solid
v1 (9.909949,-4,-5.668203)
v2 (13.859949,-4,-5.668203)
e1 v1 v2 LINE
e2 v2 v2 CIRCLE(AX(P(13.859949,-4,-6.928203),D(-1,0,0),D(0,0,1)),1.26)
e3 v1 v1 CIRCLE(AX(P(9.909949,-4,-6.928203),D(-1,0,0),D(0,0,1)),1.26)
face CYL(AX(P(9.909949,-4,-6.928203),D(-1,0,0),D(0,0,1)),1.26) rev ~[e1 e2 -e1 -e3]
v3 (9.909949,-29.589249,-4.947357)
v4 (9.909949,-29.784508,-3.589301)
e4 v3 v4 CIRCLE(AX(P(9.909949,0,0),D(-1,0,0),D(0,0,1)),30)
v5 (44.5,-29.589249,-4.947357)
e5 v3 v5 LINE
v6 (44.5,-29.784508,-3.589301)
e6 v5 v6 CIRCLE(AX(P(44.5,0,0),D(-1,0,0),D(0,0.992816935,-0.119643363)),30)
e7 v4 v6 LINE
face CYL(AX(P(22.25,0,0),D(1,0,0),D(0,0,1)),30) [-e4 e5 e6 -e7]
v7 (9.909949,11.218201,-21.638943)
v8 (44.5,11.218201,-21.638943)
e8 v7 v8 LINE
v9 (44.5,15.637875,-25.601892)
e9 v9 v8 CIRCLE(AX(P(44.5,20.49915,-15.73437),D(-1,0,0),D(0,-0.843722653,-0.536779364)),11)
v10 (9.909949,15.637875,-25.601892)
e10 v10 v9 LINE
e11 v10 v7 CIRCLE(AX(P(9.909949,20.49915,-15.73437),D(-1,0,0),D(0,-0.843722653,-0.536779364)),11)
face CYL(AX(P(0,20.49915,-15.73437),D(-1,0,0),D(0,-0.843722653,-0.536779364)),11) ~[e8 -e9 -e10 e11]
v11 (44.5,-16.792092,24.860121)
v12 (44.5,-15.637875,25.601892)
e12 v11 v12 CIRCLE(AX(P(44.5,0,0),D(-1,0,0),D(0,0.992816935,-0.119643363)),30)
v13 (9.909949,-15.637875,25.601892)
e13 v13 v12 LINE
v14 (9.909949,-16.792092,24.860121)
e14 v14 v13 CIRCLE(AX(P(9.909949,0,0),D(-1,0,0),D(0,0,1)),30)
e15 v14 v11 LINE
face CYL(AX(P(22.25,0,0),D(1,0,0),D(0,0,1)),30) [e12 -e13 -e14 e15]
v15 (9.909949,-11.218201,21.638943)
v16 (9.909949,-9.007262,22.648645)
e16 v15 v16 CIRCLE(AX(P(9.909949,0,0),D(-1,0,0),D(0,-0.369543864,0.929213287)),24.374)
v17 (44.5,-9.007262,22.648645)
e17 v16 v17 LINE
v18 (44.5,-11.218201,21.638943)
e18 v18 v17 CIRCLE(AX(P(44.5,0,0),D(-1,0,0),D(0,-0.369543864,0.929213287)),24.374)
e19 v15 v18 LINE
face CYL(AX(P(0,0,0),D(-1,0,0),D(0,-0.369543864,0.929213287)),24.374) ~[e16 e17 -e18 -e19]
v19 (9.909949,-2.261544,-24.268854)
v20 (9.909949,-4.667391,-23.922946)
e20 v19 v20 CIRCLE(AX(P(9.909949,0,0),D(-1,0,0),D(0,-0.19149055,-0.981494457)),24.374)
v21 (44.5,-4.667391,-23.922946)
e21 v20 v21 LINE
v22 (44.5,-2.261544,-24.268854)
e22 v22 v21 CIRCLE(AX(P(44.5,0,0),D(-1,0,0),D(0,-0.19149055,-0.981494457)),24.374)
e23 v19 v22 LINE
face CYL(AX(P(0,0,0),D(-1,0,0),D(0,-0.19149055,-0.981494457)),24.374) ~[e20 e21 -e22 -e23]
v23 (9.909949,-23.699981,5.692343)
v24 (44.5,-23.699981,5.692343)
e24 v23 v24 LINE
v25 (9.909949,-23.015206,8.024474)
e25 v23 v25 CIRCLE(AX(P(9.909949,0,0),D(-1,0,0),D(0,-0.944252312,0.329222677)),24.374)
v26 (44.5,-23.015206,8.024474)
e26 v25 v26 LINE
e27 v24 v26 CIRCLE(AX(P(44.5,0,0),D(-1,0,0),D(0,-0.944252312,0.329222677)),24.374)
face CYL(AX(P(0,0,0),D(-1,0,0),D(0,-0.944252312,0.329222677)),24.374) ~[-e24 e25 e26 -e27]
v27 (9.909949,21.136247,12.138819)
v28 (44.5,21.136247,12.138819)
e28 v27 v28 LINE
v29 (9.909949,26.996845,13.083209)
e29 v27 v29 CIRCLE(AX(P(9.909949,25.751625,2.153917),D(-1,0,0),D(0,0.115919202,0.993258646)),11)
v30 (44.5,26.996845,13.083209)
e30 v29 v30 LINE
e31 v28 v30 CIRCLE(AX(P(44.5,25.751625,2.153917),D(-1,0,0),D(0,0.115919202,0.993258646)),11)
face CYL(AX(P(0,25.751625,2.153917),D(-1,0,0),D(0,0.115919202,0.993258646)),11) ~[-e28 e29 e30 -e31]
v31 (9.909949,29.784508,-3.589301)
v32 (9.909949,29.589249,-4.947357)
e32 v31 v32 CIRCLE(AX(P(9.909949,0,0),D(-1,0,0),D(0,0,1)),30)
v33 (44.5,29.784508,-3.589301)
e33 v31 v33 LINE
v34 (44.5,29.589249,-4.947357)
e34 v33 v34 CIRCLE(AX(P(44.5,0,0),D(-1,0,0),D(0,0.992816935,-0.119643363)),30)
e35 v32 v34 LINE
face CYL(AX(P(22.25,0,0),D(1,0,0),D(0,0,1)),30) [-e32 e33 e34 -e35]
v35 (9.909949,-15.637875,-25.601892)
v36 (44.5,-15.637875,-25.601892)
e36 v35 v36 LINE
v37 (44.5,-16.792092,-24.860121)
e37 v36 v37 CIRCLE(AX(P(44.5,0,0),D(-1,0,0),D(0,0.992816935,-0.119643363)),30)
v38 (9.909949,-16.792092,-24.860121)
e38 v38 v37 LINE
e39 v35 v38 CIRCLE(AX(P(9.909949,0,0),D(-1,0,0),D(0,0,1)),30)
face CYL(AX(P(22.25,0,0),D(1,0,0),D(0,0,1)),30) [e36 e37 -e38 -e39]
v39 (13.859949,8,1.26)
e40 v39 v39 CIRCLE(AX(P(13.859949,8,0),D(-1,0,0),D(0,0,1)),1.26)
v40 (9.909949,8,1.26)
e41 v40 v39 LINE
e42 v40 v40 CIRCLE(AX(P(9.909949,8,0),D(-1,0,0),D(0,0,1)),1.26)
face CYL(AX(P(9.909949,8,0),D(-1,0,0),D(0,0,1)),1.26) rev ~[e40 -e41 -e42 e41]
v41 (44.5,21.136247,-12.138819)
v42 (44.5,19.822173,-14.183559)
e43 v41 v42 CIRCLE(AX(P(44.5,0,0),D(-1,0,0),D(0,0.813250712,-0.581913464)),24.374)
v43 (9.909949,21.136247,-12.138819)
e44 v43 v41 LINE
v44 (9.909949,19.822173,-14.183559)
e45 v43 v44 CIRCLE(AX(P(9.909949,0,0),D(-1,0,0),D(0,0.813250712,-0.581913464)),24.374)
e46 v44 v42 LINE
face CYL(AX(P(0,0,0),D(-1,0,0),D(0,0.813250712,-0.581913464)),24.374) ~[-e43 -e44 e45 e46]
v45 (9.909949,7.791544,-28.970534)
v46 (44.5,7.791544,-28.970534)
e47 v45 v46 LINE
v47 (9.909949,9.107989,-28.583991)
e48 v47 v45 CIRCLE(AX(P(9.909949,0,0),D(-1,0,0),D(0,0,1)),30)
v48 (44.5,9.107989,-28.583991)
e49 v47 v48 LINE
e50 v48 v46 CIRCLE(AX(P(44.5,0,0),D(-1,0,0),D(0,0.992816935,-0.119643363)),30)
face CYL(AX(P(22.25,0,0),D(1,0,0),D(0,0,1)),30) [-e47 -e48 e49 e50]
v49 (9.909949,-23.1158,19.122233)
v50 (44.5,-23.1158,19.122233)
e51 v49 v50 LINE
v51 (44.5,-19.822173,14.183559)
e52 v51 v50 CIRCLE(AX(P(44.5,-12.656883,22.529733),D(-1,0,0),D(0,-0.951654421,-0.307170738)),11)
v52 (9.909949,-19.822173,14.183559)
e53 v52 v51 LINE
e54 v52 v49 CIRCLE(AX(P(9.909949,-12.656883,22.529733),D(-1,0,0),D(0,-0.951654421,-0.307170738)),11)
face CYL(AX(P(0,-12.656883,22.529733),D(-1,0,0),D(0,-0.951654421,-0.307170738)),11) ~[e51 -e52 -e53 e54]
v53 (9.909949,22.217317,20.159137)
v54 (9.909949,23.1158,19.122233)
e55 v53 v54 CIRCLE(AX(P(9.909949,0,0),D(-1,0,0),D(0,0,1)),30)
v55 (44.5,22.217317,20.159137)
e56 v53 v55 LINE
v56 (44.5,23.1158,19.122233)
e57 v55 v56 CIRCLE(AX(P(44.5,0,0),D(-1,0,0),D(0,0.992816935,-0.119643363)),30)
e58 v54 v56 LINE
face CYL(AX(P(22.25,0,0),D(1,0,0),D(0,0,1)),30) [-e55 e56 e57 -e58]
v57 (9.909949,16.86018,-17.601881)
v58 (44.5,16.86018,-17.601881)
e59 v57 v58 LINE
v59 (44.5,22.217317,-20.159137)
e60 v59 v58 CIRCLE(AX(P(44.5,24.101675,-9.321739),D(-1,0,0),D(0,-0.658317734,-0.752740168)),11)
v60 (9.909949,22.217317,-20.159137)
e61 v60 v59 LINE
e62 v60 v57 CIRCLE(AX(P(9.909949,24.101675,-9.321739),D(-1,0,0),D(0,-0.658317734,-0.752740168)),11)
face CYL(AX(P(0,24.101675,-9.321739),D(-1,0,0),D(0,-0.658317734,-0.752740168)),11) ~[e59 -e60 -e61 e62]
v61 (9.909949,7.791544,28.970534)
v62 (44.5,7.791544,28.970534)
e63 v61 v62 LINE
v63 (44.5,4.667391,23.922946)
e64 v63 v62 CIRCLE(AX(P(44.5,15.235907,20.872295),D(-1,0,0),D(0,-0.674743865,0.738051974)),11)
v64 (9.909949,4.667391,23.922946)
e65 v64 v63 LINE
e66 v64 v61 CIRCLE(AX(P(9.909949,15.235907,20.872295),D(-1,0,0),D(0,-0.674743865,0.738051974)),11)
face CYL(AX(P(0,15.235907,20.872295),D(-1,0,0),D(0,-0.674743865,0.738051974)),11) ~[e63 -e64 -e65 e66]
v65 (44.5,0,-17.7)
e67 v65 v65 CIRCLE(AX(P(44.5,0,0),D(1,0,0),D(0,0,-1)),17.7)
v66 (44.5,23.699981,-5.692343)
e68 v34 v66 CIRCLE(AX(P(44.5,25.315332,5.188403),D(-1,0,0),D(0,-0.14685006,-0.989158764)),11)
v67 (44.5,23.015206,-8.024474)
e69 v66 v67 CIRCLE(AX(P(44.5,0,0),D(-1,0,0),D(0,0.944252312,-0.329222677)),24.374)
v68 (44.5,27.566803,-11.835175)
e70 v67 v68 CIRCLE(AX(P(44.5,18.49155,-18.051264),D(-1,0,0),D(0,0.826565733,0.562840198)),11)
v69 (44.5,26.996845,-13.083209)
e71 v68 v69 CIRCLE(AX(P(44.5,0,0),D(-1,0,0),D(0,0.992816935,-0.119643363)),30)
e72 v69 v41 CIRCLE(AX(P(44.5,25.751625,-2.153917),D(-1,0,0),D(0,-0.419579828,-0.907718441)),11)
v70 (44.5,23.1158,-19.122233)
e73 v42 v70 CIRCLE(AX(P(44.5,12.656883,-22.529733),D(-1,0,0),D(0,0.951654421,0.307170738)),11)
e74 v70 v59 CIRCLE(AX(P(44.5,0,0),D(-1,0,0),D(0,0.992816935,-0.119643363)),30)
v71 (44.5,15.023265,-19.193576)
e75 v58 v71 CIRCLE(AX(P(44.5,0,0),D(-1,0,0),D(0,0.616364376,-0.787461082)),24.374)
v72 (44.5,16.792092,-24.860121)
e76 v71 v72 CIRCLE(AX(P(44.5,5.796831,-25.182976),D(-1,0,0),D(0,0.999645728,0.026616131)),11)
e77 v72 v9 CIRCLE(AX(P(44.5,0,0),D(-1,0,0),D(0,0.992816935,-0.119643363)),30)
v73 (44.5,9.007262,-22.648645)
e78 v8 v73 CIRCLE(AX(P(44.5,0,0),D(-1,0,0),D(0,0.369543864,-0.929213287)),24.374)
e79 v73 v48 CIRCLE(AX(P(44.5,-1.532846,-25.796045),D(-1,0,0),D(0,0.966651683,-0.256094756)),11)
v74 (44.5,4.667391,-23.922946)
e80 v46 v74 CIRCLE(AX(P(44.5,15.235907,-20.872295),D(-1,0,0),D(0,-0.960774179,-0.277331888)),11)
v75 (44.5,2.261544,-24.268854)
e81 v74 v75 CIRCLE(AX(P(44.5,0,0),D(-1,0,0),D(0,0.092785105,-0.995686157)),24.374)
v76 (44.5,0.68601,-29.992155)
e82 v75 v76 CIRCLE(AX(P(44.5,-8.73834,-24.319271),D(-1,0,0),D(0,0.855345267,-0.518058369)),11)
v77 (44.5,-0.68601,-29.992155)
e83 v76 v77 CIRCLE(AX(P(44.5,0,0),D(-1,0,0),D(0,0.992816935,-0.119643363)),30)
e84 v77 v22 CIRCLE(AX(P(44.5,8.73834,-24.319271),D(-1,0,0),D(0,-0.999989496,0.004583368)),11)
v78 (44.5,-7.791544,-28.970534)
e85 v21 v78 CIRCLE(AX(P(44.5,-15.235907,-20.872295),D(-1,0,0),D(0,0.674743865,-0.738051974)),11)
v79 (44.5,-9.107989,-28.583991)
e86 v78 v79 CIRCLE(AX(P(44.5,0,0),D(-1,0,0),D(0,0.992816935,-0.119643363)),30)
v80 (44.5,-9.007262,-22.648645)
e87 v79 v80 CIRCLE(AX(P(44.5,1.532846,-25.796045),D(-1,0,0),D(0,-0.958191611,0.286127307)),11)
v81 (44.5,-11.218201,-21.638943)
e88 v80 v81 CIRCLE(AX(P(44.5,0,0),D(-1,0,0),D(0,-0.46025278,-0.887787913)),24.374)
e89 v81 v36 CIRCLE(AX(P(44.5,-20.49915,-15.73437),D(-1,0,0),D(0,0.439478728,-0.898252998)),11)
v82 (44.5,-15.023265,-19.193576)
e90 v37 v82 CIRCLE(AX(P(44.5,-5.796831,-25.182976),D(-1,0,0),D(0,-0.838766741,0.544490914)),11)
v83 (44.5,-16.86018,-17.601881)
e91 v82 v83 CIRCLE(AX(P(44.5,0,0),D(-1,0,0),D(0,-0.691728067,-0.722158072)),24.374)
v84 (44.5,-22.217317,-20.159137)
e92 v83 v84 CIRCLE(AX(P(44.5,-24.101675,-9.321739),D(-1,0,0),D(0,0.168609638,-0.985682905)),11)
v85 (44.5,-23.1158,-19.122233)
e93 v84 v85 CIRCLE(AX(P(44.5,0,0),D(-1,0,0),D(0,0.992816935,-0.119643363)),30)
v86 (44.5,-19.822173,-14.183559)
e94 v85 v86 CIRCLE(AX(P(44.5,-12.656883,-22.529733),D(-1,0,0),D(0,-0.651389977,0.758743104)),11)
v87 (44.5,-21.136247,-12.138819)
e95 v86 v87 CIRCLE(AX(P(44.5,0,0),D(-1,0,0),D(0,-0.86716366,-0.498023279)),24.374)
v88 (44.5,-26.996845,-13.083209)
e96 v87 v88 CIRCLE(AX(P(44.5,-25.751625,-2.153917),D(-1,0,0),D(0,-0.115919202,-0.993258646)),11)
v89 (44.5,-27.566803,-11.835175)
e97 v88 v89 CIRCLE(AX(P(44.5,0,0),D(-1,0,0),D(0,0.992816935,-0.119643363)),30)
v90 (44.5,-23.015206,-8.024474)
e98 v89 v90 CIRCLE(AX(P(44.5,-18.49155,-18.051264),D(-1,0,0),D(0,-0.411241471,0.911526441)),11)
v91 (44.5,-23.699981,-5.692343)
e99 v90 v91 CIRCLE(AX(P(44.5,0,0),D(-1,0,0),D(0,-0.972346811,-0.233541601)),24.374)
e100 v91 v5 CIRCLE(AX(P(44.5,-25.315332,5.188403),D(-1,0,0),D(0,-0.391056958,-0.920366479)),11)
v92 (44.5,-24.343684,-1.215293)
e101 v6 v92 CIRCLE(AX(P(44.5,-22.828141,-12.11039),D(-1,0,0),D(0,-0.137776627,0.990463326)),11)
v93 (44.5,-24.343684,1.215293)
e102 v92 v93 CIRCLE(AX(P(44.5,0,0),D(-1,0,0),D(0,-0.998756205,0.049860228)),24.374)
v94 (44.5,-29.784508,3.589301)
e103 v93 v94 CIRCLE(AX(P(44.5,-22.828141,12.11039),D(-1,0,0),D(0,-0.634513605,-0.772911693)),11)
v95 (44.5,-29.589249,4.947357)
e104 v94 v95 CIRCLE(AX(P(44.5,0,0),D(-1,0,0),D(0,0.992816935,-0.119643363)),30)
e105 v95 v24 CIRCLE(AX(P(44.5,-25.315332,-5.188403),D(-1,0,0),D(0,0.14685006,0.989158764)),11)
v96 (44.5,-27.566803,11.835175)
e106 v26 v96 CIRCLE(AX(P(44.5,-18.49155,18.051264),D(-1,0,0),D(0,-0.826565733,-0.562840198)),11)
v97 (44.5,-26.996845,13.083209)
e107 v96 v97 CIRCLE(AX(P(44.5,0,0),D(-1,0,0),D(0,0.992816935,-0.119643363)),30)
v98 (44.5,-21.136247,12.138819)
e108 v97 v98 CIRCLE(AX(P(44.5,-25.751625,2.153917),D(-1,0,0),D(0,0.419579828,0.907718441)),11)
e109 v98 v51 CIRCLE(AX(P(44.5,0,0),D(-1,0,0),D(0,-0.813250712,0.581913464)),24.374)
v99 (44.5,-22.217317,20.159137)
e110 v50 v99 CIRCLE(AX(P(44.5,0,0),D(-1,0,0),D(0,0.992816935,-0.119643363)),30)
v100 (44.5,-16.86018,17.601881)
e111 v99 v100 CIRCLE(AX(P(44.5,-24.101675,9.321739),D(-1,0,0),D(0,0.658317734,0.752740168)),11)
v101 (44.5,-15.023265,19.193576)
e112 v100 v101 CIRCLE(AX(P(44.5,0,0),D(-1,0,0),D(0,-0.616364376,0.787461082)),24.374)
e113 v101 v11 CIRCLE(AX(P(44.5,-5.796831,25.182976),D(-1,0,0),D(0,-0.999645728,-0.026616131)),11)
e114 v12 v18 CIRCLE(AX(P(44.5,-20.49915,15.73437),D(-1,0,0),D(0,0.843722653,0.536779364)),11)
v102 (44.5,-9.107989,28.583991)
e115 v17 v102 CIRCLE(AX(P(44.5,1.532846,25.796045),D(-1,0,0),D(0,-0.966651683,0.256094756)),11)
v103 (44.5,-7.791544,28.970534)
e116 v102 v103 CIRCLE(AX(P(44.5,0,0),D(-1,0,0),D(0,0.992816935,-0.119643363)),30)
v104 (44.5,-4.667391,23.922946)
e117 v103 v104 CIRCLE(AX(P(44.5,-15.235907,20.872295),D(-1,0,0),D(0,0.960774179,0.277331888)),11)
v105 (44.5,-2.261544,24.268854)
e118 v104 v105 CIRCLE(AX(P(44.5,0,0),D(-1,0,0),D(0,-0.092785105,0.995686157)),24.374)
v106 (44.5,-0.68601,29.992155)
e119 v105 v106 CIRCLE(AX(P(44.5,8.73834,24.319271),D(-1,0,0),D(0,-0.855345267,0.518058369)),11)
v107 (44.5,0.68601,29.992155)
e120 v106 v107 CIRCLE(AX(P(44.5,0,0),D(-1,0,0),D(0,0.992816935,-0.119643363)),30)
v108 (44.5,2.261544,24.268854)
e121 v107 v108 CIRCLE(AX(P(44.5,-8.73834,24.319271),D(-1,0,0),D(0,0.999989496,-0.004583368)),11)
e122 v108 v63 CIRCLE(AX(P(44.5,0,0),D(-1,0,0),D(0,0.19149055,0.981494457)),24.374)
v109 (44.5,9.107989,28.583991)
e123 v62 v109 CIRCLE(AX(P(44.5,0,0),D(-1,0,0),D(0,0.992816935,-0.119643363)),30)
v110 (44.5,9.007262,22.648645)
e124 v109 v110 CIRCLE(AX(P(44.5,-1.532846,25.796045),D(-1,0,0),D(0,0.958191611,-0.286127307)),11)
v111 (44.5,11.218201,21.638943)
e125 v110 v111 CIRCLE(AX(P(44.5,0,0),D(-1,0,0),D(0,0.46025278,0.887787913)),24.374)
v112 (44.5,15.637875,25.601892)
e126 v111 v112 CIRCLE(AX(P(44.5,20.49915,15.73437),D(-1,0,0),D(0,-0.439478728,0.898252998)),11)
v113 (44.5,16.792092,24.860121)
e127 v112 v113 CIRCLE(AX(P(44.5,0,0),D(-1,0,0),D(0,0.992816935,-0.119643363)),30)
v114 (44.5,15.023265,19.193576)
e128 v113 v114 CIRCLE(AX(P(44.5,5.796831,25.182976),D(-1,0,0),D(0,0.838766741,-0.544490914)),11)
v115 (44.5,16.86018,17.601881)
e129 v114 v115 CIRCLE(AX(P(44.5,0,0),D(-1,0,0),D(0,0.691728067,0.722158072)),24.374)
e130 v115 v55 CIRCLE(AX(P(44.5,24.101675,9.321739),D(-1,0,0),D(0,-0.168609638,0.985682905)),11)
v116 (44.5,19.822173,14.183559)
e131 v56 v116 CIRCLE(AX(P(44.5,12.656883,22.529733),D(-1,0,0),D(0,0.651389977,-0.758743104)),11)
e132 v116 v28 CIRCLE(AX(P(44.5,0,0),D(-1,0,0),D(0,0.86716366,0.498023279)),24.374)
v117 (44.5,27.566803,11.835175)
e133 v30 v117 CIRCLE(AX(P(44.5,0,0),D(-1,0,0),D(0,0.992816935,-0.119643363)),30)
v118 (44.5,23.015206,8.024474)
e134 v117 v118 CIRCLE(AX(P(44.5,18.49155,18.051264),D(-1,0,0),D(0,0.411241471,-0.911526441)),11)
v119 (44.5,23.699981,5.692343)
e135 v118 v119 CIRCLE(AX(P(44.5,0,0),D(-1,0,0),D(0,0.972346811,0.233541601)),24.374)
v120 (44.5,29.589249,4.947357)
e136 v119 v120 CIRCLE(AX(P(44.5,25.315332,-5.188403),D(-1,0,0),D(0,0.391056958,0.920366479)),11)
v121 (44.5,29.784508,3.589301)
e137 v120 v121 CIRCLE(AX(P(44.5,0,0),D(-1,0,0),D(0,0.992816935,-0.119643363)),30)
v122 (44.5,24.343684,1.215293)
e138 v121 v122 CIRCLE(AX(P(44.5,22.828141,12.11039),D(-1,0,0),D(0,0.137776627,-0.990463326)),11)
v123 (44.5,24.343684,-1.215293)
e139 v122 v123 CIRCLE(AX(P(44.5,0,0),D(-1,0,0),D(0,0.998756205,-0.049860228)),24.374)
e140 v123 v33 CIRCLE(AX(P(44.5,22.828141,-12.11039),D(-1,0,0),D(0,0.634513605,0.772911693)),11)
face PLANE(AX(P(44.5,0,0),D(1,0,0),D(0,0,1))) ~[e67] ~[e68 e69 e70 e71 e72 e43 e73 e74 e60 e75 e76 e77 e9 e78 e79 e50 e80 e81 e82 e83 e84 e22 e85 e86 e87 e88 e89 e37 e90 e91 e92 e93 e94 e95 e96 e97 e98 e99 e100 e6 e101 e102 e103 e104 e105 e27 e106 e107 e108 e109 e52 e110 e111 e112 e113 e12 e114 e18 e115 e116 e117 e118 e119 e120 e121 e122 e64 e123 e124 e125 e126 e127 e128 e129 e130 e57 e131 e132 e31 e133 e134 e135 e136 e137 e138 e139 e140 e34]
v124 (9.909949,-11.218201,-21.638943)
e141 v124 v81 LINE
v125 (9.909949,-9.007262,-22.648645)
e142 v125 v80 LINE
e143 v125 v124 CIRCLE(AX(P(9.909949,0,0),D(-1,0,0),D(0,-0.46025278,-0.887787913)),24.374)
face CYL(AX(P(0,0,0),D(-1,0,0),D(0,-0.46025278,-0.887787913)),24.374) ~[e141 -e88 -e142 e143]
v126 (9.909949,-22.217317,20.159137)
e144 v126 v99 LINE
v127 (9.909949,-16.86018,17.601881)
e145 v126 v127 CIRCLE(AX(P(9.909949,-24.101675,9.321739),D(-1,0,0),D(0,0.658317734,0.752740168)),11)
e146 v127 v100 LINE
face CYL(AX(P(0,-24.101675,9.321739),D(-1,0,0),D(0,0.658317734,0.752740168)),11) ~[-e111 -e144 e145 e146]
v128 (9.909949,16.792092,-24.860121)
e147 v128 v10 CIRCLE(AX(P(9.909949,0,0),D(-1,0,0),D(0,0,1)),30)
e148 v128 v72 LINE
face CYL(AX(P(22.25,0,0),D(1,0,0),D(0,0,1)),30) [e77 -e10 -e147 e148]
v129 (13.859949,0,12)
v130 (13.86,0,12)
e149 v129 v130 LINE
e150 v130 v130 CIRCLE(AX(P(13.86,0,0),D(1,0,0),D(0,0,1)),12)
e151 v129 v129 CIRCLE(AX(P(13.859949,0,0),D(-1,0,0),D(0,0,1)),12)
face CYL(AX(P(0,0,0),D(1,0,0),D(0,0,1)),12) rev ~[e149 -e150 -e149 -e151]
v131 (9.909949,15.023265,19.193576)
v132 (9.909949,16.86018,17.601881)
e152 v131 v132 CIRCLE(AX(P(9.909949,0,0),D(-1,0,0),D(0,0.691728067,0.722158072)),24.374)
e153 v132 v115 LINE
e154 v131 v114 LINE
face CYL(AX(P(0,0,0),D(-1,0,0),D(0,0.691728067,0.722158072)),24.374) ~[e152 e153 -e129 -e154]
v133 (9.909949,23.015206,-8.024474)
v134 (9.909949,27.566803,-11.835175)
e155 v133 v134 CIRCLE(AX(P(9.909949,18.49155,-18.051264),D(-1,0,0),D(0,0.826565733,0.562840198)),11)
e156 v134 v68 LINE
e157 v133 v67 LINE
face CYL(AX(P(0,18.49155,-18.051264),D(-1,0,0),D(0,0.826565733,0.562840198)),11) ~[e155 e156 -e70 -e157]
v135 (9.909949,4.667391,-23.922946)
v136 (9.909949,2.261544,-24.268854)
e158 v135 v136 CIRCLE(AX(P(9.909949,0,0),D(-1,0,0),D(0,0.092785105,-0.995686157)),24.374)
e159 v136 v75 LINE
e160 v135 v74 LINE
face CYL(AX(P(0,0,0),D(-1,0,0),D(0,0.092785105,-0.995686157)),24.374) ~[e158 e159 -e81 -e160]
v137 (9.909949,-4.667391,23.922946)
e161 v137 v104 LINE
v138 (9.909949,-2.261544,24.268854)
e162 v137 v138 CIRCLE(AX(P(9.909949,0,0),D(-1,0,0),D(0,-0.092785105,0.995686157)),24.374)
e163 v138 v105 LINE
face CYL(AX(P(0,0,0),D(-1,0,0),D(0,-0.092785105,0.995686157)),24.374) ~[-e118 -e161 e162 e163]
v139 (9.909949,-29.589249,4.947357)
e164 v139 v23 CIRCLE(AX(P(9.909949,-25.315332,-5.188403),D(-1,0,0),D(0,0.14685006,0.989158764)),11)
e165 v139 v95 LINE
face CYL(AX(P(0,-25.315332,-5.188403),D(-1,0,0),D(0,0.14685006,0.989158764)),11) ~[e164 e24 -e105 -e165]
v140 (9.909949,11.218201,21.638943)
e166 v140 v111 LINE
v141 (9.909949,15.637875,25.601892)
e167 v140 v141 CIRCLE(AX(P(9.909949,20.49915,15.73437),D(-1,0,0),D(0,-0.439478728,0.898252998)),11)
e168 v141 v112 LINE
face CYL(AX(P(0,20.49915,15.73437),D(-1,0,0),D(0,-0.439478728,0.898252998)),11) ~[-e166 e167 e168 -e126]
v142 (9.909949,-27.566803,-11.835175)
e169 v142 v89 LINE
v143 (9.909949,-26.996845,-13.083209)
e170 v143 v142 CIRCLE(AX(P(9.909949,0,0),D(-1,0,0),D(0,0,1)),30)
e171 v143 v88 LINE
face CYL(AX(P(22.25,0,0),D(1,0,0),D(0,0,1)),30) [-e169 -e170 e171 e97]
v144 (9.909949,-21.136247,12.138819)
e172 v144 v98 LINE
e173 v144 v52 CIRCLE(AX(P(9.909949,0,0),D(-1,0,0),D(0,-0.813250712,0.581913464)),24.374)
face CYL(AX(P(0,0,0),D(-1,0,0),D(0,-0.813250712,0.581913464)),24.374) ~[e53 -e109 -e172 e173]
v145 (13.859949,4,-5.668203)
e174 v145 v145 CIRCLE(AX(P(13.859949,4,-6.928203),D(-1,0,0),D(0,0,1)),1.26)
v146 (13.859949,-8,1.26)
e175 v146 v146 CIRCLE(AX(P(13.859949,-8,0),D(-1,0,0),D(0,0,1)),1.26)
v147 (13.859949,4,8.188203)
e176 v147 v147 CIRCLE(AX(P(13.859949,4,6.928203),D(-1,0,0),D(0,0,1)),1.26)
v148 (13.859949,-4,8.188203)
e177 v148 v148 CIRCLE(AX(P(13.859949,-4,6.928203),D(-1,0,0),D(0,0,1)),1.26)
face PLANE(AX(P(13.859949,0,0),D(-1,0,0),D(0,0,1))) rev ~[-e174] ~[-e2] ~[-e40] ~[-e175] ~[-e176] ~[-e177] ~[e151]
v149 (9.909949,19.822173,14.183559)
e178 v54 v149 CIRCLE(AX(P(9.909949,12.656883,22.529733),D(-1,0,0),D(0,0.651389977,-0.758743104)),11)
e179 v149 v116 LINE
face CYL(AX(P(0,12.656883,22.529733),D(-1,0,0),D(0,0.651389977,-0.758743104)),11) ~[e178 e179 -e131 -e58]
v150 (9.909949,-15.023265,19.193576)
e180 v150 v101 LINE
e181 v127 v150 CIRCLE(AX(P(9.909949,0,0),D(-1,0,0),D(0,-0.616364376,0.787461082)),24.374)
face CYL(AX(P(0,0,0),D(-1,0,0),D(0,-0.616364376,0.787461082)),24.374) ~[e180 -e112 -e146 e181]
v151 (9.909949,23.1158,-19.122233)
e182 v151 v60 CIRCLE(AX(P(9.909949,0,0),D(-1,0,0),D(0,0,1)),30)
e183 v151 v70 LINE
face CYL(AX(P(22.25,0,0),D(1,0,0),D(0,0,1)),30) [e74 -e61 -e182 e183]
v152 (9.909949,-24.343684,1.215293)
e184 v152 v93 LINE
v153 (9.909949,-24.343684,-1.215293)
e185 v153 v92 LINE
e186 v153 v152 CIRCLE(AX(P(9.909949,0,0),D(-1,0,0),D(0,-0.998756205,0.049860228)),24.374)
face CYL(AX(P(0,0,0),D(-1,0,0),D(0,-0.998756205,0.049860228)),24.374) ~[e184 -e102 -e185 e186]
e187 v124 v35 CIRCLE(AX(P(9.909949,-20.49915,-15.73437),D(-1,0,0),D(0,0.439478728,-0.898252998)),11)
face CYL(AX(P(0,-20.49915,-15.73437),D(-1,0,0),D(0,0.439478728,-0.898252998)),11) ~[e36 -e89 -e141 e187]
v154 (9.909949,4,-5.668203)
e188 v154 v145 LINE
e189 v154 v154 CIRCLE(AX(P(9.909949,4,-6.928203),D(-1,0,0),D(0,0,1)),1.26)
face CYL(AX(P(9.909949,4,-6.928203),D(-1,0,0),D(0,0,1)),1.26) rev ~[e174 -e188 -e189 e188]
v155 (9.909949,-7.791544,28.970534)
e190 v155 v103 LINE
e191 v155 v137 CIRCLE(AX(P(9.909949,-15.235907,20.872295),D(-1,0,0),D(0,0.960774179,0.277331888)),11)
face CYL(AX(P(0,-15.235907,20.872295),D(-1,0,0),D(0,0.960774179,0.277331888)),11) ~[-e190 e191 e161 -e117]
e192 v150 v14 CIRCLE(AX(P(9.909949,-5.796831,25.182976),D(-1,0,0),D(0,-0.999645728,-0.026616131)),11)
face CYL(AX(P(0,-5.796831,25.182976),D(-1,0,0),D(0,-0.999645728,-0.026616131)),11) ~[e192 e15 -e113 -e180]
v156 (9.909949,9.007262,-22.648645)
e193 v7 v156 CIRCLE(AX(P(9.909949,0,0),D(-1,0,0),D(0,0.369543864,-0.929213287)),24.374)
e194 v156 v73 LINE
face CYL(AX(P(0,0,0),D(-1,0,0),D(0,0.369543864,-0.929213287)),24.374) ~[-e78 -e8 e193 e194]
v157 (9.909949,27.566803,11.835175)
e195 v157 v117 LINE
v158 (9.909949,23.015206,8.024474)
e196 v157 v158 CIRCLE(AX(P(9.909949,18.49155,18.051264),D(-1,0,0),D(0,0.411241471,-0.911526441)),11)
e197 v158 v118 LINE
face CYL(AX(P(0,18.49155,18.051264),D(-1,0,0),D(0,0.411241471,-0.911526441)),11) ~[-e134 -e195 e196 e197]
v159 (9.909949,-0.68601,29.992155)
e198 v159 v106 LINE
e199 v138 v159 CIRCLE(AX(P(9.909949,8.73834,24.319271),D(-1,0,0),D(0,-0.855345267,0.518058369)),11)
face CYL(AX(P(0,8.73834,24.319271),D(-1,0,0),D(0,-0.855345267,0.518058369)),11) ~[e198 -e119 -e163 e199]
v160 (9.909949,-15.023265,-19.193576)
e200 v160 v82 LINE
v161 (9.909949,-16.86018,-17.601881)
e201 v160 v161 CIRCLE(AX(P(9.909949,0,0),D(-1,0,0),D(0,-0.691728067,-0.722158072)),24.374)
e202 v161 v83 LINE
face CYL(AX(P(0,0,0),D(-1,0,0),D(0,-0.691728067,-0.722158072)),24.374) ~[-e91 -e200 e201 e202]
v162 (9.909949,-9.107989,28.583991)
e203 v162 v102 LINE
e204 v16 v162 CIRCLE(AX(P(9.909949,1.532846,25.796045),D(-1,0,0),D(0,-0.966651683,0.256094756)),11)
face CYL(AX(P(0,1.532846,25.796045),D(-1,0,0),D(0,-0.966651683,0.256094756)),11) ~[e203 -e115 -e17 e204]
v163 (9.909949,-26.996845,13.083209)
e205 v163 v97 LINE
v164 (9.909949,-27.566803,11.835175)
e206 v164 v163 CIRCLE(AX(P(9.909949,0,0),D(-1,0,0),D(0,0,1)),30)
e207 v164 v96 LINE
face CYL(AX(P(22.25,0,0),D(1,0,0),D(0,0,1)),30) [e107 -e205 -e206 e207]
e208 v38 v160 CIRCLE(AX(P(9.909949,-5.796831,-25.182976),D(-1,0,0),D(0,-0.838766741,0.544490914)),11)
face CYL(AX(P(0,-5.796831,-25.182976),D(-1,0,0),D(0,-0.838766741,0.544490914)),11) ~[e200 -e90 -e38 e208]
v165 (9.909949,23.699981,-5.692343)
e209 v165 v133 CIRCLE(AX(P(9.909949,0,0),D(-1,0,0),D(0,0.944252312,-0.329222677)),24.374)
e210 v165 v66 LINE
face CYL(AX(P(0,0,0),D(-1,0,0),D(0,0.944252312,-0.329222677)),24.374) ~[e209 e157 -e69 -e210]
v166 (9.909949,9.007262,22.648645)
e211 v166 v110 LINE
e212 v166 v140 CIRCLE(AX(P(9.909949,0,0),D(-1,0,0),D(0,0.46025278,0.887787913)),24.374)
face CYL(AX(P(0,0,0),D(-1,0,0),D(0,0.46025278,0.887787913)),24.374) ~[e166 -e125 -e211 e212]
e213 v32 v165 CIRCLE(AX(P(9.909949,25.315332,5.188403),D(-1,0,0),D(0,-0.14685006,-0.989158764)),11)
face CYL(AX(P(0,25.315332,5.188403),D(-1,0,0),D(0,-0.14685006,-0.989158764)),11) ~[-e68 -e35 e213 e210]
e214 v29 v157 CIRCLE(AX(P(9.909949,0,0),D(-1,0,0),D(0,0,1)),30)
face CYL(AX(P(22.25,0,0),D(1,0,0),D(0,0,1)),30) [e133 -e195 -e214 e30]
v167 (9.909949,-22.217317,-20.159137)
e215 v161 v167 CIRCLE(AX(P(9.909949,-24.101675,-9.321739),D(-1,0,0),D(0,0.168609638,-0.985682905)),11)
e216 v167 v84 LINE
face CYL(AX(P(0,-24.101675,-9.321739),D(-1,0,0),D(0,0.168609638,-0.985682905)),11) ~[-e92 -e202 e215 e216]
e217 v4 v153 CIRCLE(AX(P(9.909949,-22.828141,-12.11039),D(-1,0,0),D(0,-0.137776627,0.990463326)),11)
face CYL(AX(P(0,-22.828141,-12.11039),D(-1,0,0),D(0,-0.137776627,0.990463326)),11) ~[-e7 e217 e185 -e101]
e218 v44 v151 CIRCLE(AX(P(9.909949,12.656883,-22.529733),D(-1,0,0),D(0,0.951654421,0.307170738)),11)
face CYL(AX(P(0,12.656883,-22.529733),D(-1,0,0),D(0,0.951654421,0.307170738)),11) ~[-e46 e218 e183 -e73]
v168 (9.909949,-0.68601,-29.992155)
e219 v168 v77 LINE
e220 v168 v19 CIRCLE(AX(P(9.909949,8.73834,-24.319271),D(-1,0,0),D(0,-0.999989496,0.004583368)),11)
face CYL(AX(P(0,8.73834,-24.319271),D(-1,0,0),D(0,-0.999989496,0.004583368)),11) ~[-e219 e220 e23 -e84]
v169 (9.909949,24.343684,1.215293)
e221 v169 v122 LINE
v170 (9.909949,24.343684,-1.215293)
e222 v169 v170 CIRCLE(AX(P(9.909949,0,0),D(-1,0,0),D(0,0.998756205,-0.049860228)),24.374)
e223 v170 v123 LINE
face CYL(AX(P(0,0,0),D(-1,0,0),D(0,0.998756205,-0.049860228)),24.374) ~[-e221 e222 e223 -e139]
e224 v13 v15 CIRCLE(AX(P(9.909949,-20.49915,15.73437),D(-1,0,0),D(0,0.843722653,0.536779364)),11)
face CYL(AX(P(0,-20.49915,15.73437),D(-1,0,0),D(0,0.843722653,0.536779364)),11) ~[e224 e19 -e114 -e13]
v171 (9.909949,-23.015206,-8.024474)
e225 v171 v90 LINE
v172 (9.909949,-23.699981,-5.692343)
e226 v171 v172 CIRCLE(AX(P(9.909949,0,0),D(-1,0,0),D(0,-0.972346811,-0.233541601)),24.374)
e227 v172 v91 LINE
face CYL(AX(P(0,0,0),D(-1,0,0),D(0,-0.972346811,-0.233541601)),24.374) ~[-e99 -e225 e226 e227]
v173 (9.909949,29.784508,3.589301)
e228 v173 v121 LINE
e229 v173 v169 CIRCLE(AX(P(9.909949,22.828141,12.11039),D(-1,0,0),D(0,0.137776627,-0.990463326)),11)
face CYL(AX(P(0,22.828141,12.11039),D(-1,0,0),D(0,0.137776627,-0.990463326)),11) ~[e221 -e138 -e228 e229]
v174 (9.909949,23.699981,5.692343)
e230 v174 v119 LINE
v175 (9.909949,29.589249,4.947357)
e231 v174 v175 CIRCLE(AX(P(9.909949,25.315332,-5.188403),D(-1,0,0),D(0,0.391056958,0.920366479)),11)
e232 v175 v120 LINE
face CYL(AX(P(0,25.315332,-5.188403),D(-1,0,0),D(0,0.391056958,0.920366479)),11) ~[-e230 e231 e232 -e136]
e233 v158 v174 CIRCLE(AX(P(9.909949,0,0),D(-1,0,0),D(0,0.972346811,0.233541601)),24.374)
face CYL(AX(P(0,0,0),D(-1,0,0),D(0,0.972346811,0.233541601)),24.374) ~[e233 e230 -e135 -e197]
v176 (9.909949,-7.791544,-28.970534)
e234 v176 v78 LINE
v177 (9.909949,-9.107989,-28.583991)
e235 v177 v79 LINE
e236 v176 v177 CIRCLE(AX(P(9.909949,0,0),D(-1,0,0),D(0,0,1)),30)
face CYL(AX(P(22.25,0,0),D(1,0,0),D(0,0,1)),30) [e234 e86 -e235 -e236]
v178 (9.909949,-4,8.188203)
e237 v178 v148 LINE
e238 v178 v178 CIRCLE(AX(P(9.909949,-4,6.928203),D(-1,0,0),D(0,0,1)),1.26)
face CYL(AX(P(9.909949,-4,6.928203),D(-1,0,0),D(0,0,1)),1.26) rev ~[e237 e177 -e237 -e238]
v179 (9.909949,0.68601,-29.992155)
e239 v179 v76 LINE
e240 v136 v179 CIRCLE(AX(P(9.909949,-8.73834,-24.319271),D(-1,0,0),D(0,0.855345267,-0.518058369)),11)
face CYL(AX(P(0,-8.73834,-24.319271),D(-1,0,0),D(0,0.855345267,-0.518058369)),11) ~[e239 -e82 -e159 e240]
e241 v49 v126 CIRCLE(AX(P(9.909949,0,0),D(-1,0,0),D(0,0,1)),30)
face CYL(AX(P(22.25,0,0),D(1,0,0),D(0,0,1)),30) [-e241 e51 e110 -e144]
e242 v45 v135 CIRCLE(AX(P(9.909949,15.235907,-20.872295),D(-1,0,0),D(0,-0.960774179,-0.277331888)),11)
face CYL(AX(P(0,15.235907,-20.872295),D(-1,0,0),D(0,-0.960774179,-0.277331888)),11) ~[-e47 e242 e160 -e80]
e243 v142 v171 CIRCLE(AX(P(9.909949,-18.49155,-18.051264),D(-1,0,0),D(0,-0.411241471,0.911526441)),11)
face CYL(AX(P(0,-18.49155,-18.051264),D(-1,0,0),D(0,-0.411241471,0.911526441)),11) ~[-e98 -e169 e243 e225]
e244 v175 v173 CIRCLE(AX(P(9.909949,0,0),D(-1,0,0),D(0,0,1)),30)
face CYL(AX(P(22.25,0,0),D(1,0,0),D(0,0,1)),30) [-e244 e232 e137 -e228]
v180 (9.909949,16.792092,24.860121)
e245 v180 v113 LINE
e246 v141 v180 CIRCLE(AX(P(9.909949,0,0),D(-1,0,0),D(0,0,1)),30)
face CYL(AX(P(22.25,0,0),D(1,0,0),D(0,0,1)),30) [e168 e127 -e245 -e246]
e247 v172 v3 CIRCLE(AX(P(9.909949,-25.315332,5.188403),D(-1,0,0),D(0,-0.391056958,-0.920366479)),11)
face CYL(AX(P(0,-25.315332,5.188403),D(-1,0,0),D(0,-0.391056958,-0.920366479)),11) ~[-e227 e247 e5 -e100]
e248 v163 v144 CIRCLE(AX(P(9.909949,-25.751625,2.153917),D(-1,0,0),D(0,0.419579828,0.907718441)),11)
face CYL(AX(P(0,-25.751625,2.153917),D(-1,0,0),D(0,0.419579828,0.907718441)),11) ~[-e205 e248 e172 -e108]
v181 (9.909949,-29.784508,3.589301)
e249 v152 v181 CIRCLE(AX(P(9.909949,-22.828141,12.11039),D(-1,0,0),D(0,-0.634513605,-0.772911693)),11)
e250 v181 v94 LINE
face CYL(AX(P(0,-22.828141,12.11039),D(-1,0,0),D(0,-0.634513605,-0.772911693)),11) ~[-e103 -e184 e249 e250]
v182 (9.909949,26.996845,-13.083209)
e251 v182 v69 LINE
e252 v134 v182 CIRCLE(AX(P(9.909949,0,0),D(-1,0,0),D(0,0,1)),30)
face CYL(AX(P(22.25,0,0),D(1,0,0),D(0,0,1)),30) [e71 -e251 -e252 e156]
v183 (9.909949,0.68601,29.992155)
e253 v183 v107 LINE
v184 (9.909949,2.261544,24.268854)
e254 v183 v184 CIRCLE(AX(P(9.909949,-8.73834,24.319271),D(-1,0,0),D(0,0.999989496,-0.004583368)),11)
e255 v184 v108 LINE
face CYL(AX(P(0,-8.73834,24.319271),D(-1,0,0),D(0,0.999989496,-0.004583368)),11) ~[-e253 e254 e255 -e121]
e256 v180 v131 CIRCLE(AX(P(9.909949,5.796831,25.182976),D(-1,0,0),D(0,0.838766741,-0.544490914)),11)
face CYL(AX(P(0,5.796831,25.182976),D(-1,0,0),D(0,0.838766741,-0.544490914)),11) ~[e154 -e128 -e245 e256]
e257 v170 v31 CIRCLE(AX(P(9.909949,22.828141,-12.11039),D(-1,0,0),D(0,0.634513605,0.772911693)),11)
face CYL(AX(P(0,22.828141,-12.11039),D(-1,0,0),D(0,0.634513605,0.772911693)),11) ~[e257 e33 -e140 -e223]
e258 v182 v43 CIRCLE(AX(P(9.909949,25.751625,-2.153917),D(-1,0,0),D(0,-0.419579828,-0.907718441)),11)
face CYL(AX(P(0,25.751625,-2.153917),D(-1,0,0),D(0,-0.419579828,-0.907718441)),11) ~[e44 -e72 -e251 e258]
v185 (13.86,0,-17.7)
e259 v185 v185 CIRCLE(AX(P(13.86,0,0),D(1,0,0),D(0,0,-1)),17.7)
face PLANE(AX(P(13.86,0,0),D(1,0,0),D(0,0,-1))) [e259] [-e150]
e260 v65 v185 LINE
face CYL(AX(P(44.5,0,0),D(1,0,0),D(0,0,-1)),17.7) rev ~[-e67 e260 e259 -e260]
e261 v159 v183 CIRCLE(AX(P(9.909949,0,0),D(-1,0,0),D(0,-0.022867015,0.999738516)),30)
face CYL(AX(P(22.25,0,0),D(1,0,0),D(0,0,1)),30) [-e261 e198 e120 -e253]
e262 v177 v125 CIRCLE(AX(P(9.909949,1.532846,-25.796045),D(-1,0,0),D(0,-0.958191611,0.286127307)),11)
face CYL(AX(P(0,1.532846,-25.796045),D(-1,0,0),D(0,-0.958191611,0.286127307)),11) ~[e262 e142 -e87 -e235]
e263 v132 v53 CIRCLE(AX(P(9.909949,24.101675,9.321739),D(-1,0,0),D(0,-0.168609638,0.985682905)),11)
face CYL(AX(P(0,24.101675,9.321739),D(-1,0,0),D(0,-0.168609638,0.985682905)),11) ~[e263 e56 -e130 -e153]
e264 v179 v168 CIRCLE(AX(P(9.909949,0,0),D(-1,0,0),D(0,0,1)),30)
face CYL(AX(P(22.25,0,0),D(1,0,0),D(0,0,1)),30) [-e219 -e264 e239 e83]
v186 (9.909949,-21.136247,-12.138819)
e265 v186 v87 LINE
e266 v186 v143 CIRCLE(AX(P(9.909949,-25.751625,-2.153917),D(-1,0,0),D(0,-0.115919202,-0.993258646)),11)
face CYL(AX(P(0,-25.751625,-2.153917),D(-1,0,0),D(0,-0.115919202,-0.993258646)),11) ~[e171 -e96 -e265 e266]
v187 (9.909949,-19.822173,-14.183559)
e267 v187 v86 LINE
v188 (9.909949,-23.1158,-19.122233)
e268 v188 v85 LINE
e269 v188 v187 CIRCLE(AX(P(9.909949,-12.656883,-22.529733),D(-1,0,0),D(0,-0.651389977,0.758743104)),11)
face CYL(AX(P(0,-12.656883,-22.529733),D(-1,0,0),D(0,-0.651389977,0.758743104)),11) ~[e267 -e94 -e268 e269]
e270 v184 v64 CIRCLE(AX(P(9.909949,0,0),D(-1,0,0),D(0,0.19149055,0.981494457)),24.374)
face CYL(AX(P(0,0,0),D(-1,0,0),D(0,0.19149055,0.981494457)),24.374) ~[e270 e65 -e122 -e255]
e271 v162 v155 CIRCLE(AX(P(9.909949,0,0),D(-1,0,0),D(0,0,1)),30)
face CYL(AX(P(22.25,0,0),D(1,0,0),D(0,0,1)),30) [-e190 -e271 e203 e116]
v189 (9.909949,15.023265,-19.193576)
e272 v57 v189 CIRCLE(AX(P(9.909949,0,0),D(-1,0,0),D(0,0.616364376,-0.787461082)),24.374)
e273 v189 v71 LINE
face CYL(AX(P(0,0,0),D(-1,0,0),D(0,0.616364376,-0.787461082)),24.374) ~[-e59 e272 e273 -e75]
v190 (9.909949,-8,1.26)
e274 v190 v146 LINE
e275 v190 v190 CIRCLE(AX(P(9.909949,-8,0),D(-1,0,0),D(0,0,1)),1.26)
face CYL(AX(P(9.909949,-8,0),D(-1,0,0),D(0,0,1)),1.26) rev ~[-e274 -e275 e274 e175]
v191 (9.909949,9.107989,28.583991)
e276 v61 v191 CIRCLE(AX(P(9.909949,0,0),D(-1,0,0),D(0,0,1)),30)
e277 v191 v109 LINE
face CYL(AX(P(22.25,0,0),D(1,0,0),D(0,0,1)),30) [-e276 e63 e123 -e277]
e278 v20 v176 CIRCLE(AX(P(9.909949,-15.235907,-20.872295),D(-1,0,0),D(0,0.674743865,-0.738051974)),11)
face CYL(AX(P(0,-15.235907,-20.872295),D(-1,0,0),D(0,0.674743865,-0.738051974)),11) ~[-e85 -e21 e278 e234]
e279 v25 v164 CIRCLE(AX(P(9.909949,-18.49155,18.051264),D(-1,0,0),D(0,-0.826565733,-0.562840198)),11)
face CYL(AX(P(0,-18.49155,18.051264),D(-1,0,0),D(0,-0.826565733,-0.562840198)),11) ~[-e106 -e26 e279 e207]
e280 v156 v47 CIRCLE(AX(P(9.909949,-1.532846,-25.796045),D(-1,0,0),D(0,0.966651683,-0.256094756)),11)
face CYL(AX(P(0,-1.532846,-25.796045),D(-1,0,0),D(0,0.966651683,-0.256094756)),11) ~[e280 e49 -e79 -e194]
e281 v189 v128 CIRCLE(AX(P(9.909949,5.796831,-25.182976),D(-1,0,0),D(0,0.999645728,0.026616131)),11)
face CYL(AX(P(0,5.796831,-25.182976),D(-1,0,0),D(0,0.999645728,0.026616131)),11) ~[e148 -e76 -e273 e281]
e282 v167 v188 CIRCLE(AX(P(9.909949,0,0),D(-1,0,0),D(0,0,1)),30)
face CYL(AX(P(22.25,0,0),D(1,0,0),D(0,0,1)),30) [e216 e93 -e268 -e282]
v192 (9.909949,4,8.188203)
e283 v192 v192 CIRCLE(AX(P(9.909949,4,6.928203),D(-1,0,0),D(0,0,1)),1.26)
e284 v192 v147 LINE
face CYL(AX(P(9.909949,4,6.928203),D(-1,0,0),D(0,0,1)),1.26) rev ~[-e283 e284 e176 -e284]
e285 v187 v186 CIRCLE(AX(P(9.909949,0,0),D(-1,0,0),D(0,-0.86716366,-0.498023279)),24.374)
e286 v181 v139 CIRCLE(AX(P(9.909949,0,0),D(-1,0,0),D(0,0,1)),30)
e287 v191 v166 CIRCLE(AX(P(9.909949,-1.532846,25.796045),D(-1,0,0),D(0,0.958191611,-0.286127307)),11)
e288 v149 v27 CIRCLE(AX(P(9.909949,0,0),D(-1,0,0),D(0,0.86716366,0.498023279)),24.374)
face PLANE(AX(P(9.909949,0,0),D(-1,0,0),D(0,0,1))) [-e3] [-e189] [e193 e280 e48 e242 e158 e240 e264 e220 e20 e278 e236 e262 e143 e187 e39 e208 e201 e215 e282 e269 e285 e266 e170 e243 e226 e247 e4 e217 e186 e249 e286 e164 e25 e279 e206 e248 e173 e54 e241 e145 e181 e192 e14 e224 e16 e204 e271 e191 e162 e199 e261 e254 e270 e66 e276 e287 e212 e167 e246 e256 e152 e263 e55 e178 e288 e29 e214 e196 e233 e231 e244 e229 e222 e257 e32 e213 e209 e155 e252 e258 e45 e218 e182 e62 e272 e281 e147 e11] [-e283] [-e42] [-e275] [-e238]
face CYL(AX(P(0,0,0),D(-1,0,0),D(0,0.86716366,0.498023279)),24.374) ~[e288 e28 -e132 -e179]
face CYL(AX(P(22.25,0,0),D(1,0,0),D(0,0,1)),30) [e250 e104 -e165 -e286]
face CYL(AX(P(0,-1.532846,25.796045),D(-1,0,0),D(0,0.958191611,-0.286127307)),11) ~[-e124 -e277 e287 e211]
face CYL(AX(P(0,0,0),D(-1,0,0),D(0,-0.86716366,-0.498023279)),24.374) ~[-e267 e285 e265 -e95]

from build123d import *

# Parameters (mm, degrees)
BASPROSKE_W         = 44.5
BASPROSKE_H         = 30
TOOTHCUT_DEPTH      = 62.483737687
TEETHCUTS_COUNT     = 22
TEETHCUTS_ANGLE     = 343.636363636
HUBNEAONESKE_R      = 21
HUBNEARONE_DEPTH    = 5.5000508
BORSKE_R            = 12
BORE_DEPTH          = 50.0000508
CUT_EXTRUDE1_START  = -15.41
SKETCH1_R           = 30
CUT_EXTRUDE1_DEPTH  = 15.41
BOSS_EXTRUDE1_START = -3.95
SKETCH2_R           = 12
BOSS_EXTRUDE1_DEPTH = 3.95
SKETCH3_R           = 1.26
CUT_EXTRUDE2_DEPTH  = 55.622234789
SKETCH4_R           = 17.7
CUT_EXTRUDE3_DEPTH  = 30.64


with BuildPart() as part:
    # BasProSke → Base-Revolve (revolve)
    with BuildSketch(Plane(origin=(0, 0, 0), x_dir=(1, 0, 0), z_dir=(0, 1, 0)), mode=Mode.PRIVATE) as base_revolve_sk:
        with Locations((22.25, 15)):
            Rectangle(BASPROSKE_W, BASPROSKE_H)
    revolve(base_revolve_sk.sketch.rotate(Axis((-10, 0, 0), (1, 0, 0)), 180), axis=Axis((-10, 0, 0), (1, 0, 0)))

    # TooCutSke → ToothCut (cut, through all)
    with BuildSketch(Plane(origin=(0, 0, 0), x_dir=(0, 0, -1), z_dir=(1, 0, 0))):
        with BuildLine():
            ThreePointArc((1.215293185, 24.343683749), (0, 24.374), (-1.215293185, 24.343683749))
            ThreePointArc((-1.215293185, 24.343683749), (-2.034367134, 27.241050063), (-3.608361155, 29.807790507))
            ThreePointArc((-3.608361155, 29.807790507), (0, 30.0254), (3.608361155, 29.807790507))
            ThreePointArc((3.608361155, 29.807790507), (2.034367134, 27.241050063), (1.215293185, 24.343683749))
        make_face()
    toothcut = extrude(amount=TOOTHCUT_DEPTH, mode=Mode.SUBTRACT)

    # TeethCuts: ToothCut ×22 about axis
    teethcuts_axis = Axis((-10, 0, 0), (1, 0, 0))
    for i in range(1, TEETHCUTS_COUNT):
        add(toothcut.rotate(teethcuts_axis, i * TEETHCUTS_ANGLE / (TEETHCUTS_COUNT - 1)), mode=Mode.SUBTRACT)

    # HubNeaOneSke → HubNearOne (add)
    with BuildSketch(Plane.ZY):
        with Locations(Location((0, 0, 0), (0, 0, 180))):
            Circle(HUBNEAONESKE_R)
    extrude(amount=HUBNEARONE_DEPTH)

    # BorSke → Bore (cut, symmetric)
    with BuildSketch(Plane(origin=(0, 0, 0), x_dir=(0, 0, -1), z_dir=(1, 0, 0))):
        with Locations(Location((0, 0, 0), (0, 0, 180))):
            Circle(BORSKE_R)
    extrude(amount=BORE_DEPTH, both=True, mode=Mode.SUBTRACT)

    # Sketch1 → Cut-Extrude1 (cut)
    with BuildSketch(Plane.ZY.offset(5.5000508).offset(CUT_EXTRUDE1_START)):
        Circle(SKETCH1_R)
    extrude(amount=CUT_EXTRUDE1_DEPTH, mode=Mode.SUBTRACT)

    # Sketch2 → Boss-Extrude1 (add)
    with BuildSketch(Plane.ZY.offset(-9.9099492).offset(BOSS_EXTRUDE1_START)):
        Circle(SKETCH2_R)
    extrude(amount=BOSS_EXTRUDE1_DEPTH)

    # Sketch3 → Cut-Extrude2 (cut, through all)
    with BuildSketch(Plane.ZY.offset(-9.9099492)):
        with Locations((0, 8)):
            Circle(SKETCH3_R)
        with Locations((6.92820323, 4)):
            Circle(SKETCH3_R)
        with Locations((6.92820323, -4)):
            Circle(SKETCH3_R)
        with Locations((0, -8)):
            Circle(SKETCH3_R)
        with Locations((-6.92820323, -4)):
            Circle(SKETCH3_R)
        with Locations((-6.92820323, 4)):
            Circle(SKETCH3_R)
    extrude(amount=-CUT_EXTRUDE2_DEPTH, mode=Mode.SUBTRACT)

    # Sketch4 → Cut-Extrude3 (cut)
    with BuildSketch(Plane(origin=(44.5, 0, 0), x_dir=(0, 0, -1), z_dir=(1, 0, 0))):
        Circle(SKETCH4_R)
    extrude(amount=-CUT_EXTRUDE3_DEPTH, mode=Mode.SUBTRACT)


solid = part.part
